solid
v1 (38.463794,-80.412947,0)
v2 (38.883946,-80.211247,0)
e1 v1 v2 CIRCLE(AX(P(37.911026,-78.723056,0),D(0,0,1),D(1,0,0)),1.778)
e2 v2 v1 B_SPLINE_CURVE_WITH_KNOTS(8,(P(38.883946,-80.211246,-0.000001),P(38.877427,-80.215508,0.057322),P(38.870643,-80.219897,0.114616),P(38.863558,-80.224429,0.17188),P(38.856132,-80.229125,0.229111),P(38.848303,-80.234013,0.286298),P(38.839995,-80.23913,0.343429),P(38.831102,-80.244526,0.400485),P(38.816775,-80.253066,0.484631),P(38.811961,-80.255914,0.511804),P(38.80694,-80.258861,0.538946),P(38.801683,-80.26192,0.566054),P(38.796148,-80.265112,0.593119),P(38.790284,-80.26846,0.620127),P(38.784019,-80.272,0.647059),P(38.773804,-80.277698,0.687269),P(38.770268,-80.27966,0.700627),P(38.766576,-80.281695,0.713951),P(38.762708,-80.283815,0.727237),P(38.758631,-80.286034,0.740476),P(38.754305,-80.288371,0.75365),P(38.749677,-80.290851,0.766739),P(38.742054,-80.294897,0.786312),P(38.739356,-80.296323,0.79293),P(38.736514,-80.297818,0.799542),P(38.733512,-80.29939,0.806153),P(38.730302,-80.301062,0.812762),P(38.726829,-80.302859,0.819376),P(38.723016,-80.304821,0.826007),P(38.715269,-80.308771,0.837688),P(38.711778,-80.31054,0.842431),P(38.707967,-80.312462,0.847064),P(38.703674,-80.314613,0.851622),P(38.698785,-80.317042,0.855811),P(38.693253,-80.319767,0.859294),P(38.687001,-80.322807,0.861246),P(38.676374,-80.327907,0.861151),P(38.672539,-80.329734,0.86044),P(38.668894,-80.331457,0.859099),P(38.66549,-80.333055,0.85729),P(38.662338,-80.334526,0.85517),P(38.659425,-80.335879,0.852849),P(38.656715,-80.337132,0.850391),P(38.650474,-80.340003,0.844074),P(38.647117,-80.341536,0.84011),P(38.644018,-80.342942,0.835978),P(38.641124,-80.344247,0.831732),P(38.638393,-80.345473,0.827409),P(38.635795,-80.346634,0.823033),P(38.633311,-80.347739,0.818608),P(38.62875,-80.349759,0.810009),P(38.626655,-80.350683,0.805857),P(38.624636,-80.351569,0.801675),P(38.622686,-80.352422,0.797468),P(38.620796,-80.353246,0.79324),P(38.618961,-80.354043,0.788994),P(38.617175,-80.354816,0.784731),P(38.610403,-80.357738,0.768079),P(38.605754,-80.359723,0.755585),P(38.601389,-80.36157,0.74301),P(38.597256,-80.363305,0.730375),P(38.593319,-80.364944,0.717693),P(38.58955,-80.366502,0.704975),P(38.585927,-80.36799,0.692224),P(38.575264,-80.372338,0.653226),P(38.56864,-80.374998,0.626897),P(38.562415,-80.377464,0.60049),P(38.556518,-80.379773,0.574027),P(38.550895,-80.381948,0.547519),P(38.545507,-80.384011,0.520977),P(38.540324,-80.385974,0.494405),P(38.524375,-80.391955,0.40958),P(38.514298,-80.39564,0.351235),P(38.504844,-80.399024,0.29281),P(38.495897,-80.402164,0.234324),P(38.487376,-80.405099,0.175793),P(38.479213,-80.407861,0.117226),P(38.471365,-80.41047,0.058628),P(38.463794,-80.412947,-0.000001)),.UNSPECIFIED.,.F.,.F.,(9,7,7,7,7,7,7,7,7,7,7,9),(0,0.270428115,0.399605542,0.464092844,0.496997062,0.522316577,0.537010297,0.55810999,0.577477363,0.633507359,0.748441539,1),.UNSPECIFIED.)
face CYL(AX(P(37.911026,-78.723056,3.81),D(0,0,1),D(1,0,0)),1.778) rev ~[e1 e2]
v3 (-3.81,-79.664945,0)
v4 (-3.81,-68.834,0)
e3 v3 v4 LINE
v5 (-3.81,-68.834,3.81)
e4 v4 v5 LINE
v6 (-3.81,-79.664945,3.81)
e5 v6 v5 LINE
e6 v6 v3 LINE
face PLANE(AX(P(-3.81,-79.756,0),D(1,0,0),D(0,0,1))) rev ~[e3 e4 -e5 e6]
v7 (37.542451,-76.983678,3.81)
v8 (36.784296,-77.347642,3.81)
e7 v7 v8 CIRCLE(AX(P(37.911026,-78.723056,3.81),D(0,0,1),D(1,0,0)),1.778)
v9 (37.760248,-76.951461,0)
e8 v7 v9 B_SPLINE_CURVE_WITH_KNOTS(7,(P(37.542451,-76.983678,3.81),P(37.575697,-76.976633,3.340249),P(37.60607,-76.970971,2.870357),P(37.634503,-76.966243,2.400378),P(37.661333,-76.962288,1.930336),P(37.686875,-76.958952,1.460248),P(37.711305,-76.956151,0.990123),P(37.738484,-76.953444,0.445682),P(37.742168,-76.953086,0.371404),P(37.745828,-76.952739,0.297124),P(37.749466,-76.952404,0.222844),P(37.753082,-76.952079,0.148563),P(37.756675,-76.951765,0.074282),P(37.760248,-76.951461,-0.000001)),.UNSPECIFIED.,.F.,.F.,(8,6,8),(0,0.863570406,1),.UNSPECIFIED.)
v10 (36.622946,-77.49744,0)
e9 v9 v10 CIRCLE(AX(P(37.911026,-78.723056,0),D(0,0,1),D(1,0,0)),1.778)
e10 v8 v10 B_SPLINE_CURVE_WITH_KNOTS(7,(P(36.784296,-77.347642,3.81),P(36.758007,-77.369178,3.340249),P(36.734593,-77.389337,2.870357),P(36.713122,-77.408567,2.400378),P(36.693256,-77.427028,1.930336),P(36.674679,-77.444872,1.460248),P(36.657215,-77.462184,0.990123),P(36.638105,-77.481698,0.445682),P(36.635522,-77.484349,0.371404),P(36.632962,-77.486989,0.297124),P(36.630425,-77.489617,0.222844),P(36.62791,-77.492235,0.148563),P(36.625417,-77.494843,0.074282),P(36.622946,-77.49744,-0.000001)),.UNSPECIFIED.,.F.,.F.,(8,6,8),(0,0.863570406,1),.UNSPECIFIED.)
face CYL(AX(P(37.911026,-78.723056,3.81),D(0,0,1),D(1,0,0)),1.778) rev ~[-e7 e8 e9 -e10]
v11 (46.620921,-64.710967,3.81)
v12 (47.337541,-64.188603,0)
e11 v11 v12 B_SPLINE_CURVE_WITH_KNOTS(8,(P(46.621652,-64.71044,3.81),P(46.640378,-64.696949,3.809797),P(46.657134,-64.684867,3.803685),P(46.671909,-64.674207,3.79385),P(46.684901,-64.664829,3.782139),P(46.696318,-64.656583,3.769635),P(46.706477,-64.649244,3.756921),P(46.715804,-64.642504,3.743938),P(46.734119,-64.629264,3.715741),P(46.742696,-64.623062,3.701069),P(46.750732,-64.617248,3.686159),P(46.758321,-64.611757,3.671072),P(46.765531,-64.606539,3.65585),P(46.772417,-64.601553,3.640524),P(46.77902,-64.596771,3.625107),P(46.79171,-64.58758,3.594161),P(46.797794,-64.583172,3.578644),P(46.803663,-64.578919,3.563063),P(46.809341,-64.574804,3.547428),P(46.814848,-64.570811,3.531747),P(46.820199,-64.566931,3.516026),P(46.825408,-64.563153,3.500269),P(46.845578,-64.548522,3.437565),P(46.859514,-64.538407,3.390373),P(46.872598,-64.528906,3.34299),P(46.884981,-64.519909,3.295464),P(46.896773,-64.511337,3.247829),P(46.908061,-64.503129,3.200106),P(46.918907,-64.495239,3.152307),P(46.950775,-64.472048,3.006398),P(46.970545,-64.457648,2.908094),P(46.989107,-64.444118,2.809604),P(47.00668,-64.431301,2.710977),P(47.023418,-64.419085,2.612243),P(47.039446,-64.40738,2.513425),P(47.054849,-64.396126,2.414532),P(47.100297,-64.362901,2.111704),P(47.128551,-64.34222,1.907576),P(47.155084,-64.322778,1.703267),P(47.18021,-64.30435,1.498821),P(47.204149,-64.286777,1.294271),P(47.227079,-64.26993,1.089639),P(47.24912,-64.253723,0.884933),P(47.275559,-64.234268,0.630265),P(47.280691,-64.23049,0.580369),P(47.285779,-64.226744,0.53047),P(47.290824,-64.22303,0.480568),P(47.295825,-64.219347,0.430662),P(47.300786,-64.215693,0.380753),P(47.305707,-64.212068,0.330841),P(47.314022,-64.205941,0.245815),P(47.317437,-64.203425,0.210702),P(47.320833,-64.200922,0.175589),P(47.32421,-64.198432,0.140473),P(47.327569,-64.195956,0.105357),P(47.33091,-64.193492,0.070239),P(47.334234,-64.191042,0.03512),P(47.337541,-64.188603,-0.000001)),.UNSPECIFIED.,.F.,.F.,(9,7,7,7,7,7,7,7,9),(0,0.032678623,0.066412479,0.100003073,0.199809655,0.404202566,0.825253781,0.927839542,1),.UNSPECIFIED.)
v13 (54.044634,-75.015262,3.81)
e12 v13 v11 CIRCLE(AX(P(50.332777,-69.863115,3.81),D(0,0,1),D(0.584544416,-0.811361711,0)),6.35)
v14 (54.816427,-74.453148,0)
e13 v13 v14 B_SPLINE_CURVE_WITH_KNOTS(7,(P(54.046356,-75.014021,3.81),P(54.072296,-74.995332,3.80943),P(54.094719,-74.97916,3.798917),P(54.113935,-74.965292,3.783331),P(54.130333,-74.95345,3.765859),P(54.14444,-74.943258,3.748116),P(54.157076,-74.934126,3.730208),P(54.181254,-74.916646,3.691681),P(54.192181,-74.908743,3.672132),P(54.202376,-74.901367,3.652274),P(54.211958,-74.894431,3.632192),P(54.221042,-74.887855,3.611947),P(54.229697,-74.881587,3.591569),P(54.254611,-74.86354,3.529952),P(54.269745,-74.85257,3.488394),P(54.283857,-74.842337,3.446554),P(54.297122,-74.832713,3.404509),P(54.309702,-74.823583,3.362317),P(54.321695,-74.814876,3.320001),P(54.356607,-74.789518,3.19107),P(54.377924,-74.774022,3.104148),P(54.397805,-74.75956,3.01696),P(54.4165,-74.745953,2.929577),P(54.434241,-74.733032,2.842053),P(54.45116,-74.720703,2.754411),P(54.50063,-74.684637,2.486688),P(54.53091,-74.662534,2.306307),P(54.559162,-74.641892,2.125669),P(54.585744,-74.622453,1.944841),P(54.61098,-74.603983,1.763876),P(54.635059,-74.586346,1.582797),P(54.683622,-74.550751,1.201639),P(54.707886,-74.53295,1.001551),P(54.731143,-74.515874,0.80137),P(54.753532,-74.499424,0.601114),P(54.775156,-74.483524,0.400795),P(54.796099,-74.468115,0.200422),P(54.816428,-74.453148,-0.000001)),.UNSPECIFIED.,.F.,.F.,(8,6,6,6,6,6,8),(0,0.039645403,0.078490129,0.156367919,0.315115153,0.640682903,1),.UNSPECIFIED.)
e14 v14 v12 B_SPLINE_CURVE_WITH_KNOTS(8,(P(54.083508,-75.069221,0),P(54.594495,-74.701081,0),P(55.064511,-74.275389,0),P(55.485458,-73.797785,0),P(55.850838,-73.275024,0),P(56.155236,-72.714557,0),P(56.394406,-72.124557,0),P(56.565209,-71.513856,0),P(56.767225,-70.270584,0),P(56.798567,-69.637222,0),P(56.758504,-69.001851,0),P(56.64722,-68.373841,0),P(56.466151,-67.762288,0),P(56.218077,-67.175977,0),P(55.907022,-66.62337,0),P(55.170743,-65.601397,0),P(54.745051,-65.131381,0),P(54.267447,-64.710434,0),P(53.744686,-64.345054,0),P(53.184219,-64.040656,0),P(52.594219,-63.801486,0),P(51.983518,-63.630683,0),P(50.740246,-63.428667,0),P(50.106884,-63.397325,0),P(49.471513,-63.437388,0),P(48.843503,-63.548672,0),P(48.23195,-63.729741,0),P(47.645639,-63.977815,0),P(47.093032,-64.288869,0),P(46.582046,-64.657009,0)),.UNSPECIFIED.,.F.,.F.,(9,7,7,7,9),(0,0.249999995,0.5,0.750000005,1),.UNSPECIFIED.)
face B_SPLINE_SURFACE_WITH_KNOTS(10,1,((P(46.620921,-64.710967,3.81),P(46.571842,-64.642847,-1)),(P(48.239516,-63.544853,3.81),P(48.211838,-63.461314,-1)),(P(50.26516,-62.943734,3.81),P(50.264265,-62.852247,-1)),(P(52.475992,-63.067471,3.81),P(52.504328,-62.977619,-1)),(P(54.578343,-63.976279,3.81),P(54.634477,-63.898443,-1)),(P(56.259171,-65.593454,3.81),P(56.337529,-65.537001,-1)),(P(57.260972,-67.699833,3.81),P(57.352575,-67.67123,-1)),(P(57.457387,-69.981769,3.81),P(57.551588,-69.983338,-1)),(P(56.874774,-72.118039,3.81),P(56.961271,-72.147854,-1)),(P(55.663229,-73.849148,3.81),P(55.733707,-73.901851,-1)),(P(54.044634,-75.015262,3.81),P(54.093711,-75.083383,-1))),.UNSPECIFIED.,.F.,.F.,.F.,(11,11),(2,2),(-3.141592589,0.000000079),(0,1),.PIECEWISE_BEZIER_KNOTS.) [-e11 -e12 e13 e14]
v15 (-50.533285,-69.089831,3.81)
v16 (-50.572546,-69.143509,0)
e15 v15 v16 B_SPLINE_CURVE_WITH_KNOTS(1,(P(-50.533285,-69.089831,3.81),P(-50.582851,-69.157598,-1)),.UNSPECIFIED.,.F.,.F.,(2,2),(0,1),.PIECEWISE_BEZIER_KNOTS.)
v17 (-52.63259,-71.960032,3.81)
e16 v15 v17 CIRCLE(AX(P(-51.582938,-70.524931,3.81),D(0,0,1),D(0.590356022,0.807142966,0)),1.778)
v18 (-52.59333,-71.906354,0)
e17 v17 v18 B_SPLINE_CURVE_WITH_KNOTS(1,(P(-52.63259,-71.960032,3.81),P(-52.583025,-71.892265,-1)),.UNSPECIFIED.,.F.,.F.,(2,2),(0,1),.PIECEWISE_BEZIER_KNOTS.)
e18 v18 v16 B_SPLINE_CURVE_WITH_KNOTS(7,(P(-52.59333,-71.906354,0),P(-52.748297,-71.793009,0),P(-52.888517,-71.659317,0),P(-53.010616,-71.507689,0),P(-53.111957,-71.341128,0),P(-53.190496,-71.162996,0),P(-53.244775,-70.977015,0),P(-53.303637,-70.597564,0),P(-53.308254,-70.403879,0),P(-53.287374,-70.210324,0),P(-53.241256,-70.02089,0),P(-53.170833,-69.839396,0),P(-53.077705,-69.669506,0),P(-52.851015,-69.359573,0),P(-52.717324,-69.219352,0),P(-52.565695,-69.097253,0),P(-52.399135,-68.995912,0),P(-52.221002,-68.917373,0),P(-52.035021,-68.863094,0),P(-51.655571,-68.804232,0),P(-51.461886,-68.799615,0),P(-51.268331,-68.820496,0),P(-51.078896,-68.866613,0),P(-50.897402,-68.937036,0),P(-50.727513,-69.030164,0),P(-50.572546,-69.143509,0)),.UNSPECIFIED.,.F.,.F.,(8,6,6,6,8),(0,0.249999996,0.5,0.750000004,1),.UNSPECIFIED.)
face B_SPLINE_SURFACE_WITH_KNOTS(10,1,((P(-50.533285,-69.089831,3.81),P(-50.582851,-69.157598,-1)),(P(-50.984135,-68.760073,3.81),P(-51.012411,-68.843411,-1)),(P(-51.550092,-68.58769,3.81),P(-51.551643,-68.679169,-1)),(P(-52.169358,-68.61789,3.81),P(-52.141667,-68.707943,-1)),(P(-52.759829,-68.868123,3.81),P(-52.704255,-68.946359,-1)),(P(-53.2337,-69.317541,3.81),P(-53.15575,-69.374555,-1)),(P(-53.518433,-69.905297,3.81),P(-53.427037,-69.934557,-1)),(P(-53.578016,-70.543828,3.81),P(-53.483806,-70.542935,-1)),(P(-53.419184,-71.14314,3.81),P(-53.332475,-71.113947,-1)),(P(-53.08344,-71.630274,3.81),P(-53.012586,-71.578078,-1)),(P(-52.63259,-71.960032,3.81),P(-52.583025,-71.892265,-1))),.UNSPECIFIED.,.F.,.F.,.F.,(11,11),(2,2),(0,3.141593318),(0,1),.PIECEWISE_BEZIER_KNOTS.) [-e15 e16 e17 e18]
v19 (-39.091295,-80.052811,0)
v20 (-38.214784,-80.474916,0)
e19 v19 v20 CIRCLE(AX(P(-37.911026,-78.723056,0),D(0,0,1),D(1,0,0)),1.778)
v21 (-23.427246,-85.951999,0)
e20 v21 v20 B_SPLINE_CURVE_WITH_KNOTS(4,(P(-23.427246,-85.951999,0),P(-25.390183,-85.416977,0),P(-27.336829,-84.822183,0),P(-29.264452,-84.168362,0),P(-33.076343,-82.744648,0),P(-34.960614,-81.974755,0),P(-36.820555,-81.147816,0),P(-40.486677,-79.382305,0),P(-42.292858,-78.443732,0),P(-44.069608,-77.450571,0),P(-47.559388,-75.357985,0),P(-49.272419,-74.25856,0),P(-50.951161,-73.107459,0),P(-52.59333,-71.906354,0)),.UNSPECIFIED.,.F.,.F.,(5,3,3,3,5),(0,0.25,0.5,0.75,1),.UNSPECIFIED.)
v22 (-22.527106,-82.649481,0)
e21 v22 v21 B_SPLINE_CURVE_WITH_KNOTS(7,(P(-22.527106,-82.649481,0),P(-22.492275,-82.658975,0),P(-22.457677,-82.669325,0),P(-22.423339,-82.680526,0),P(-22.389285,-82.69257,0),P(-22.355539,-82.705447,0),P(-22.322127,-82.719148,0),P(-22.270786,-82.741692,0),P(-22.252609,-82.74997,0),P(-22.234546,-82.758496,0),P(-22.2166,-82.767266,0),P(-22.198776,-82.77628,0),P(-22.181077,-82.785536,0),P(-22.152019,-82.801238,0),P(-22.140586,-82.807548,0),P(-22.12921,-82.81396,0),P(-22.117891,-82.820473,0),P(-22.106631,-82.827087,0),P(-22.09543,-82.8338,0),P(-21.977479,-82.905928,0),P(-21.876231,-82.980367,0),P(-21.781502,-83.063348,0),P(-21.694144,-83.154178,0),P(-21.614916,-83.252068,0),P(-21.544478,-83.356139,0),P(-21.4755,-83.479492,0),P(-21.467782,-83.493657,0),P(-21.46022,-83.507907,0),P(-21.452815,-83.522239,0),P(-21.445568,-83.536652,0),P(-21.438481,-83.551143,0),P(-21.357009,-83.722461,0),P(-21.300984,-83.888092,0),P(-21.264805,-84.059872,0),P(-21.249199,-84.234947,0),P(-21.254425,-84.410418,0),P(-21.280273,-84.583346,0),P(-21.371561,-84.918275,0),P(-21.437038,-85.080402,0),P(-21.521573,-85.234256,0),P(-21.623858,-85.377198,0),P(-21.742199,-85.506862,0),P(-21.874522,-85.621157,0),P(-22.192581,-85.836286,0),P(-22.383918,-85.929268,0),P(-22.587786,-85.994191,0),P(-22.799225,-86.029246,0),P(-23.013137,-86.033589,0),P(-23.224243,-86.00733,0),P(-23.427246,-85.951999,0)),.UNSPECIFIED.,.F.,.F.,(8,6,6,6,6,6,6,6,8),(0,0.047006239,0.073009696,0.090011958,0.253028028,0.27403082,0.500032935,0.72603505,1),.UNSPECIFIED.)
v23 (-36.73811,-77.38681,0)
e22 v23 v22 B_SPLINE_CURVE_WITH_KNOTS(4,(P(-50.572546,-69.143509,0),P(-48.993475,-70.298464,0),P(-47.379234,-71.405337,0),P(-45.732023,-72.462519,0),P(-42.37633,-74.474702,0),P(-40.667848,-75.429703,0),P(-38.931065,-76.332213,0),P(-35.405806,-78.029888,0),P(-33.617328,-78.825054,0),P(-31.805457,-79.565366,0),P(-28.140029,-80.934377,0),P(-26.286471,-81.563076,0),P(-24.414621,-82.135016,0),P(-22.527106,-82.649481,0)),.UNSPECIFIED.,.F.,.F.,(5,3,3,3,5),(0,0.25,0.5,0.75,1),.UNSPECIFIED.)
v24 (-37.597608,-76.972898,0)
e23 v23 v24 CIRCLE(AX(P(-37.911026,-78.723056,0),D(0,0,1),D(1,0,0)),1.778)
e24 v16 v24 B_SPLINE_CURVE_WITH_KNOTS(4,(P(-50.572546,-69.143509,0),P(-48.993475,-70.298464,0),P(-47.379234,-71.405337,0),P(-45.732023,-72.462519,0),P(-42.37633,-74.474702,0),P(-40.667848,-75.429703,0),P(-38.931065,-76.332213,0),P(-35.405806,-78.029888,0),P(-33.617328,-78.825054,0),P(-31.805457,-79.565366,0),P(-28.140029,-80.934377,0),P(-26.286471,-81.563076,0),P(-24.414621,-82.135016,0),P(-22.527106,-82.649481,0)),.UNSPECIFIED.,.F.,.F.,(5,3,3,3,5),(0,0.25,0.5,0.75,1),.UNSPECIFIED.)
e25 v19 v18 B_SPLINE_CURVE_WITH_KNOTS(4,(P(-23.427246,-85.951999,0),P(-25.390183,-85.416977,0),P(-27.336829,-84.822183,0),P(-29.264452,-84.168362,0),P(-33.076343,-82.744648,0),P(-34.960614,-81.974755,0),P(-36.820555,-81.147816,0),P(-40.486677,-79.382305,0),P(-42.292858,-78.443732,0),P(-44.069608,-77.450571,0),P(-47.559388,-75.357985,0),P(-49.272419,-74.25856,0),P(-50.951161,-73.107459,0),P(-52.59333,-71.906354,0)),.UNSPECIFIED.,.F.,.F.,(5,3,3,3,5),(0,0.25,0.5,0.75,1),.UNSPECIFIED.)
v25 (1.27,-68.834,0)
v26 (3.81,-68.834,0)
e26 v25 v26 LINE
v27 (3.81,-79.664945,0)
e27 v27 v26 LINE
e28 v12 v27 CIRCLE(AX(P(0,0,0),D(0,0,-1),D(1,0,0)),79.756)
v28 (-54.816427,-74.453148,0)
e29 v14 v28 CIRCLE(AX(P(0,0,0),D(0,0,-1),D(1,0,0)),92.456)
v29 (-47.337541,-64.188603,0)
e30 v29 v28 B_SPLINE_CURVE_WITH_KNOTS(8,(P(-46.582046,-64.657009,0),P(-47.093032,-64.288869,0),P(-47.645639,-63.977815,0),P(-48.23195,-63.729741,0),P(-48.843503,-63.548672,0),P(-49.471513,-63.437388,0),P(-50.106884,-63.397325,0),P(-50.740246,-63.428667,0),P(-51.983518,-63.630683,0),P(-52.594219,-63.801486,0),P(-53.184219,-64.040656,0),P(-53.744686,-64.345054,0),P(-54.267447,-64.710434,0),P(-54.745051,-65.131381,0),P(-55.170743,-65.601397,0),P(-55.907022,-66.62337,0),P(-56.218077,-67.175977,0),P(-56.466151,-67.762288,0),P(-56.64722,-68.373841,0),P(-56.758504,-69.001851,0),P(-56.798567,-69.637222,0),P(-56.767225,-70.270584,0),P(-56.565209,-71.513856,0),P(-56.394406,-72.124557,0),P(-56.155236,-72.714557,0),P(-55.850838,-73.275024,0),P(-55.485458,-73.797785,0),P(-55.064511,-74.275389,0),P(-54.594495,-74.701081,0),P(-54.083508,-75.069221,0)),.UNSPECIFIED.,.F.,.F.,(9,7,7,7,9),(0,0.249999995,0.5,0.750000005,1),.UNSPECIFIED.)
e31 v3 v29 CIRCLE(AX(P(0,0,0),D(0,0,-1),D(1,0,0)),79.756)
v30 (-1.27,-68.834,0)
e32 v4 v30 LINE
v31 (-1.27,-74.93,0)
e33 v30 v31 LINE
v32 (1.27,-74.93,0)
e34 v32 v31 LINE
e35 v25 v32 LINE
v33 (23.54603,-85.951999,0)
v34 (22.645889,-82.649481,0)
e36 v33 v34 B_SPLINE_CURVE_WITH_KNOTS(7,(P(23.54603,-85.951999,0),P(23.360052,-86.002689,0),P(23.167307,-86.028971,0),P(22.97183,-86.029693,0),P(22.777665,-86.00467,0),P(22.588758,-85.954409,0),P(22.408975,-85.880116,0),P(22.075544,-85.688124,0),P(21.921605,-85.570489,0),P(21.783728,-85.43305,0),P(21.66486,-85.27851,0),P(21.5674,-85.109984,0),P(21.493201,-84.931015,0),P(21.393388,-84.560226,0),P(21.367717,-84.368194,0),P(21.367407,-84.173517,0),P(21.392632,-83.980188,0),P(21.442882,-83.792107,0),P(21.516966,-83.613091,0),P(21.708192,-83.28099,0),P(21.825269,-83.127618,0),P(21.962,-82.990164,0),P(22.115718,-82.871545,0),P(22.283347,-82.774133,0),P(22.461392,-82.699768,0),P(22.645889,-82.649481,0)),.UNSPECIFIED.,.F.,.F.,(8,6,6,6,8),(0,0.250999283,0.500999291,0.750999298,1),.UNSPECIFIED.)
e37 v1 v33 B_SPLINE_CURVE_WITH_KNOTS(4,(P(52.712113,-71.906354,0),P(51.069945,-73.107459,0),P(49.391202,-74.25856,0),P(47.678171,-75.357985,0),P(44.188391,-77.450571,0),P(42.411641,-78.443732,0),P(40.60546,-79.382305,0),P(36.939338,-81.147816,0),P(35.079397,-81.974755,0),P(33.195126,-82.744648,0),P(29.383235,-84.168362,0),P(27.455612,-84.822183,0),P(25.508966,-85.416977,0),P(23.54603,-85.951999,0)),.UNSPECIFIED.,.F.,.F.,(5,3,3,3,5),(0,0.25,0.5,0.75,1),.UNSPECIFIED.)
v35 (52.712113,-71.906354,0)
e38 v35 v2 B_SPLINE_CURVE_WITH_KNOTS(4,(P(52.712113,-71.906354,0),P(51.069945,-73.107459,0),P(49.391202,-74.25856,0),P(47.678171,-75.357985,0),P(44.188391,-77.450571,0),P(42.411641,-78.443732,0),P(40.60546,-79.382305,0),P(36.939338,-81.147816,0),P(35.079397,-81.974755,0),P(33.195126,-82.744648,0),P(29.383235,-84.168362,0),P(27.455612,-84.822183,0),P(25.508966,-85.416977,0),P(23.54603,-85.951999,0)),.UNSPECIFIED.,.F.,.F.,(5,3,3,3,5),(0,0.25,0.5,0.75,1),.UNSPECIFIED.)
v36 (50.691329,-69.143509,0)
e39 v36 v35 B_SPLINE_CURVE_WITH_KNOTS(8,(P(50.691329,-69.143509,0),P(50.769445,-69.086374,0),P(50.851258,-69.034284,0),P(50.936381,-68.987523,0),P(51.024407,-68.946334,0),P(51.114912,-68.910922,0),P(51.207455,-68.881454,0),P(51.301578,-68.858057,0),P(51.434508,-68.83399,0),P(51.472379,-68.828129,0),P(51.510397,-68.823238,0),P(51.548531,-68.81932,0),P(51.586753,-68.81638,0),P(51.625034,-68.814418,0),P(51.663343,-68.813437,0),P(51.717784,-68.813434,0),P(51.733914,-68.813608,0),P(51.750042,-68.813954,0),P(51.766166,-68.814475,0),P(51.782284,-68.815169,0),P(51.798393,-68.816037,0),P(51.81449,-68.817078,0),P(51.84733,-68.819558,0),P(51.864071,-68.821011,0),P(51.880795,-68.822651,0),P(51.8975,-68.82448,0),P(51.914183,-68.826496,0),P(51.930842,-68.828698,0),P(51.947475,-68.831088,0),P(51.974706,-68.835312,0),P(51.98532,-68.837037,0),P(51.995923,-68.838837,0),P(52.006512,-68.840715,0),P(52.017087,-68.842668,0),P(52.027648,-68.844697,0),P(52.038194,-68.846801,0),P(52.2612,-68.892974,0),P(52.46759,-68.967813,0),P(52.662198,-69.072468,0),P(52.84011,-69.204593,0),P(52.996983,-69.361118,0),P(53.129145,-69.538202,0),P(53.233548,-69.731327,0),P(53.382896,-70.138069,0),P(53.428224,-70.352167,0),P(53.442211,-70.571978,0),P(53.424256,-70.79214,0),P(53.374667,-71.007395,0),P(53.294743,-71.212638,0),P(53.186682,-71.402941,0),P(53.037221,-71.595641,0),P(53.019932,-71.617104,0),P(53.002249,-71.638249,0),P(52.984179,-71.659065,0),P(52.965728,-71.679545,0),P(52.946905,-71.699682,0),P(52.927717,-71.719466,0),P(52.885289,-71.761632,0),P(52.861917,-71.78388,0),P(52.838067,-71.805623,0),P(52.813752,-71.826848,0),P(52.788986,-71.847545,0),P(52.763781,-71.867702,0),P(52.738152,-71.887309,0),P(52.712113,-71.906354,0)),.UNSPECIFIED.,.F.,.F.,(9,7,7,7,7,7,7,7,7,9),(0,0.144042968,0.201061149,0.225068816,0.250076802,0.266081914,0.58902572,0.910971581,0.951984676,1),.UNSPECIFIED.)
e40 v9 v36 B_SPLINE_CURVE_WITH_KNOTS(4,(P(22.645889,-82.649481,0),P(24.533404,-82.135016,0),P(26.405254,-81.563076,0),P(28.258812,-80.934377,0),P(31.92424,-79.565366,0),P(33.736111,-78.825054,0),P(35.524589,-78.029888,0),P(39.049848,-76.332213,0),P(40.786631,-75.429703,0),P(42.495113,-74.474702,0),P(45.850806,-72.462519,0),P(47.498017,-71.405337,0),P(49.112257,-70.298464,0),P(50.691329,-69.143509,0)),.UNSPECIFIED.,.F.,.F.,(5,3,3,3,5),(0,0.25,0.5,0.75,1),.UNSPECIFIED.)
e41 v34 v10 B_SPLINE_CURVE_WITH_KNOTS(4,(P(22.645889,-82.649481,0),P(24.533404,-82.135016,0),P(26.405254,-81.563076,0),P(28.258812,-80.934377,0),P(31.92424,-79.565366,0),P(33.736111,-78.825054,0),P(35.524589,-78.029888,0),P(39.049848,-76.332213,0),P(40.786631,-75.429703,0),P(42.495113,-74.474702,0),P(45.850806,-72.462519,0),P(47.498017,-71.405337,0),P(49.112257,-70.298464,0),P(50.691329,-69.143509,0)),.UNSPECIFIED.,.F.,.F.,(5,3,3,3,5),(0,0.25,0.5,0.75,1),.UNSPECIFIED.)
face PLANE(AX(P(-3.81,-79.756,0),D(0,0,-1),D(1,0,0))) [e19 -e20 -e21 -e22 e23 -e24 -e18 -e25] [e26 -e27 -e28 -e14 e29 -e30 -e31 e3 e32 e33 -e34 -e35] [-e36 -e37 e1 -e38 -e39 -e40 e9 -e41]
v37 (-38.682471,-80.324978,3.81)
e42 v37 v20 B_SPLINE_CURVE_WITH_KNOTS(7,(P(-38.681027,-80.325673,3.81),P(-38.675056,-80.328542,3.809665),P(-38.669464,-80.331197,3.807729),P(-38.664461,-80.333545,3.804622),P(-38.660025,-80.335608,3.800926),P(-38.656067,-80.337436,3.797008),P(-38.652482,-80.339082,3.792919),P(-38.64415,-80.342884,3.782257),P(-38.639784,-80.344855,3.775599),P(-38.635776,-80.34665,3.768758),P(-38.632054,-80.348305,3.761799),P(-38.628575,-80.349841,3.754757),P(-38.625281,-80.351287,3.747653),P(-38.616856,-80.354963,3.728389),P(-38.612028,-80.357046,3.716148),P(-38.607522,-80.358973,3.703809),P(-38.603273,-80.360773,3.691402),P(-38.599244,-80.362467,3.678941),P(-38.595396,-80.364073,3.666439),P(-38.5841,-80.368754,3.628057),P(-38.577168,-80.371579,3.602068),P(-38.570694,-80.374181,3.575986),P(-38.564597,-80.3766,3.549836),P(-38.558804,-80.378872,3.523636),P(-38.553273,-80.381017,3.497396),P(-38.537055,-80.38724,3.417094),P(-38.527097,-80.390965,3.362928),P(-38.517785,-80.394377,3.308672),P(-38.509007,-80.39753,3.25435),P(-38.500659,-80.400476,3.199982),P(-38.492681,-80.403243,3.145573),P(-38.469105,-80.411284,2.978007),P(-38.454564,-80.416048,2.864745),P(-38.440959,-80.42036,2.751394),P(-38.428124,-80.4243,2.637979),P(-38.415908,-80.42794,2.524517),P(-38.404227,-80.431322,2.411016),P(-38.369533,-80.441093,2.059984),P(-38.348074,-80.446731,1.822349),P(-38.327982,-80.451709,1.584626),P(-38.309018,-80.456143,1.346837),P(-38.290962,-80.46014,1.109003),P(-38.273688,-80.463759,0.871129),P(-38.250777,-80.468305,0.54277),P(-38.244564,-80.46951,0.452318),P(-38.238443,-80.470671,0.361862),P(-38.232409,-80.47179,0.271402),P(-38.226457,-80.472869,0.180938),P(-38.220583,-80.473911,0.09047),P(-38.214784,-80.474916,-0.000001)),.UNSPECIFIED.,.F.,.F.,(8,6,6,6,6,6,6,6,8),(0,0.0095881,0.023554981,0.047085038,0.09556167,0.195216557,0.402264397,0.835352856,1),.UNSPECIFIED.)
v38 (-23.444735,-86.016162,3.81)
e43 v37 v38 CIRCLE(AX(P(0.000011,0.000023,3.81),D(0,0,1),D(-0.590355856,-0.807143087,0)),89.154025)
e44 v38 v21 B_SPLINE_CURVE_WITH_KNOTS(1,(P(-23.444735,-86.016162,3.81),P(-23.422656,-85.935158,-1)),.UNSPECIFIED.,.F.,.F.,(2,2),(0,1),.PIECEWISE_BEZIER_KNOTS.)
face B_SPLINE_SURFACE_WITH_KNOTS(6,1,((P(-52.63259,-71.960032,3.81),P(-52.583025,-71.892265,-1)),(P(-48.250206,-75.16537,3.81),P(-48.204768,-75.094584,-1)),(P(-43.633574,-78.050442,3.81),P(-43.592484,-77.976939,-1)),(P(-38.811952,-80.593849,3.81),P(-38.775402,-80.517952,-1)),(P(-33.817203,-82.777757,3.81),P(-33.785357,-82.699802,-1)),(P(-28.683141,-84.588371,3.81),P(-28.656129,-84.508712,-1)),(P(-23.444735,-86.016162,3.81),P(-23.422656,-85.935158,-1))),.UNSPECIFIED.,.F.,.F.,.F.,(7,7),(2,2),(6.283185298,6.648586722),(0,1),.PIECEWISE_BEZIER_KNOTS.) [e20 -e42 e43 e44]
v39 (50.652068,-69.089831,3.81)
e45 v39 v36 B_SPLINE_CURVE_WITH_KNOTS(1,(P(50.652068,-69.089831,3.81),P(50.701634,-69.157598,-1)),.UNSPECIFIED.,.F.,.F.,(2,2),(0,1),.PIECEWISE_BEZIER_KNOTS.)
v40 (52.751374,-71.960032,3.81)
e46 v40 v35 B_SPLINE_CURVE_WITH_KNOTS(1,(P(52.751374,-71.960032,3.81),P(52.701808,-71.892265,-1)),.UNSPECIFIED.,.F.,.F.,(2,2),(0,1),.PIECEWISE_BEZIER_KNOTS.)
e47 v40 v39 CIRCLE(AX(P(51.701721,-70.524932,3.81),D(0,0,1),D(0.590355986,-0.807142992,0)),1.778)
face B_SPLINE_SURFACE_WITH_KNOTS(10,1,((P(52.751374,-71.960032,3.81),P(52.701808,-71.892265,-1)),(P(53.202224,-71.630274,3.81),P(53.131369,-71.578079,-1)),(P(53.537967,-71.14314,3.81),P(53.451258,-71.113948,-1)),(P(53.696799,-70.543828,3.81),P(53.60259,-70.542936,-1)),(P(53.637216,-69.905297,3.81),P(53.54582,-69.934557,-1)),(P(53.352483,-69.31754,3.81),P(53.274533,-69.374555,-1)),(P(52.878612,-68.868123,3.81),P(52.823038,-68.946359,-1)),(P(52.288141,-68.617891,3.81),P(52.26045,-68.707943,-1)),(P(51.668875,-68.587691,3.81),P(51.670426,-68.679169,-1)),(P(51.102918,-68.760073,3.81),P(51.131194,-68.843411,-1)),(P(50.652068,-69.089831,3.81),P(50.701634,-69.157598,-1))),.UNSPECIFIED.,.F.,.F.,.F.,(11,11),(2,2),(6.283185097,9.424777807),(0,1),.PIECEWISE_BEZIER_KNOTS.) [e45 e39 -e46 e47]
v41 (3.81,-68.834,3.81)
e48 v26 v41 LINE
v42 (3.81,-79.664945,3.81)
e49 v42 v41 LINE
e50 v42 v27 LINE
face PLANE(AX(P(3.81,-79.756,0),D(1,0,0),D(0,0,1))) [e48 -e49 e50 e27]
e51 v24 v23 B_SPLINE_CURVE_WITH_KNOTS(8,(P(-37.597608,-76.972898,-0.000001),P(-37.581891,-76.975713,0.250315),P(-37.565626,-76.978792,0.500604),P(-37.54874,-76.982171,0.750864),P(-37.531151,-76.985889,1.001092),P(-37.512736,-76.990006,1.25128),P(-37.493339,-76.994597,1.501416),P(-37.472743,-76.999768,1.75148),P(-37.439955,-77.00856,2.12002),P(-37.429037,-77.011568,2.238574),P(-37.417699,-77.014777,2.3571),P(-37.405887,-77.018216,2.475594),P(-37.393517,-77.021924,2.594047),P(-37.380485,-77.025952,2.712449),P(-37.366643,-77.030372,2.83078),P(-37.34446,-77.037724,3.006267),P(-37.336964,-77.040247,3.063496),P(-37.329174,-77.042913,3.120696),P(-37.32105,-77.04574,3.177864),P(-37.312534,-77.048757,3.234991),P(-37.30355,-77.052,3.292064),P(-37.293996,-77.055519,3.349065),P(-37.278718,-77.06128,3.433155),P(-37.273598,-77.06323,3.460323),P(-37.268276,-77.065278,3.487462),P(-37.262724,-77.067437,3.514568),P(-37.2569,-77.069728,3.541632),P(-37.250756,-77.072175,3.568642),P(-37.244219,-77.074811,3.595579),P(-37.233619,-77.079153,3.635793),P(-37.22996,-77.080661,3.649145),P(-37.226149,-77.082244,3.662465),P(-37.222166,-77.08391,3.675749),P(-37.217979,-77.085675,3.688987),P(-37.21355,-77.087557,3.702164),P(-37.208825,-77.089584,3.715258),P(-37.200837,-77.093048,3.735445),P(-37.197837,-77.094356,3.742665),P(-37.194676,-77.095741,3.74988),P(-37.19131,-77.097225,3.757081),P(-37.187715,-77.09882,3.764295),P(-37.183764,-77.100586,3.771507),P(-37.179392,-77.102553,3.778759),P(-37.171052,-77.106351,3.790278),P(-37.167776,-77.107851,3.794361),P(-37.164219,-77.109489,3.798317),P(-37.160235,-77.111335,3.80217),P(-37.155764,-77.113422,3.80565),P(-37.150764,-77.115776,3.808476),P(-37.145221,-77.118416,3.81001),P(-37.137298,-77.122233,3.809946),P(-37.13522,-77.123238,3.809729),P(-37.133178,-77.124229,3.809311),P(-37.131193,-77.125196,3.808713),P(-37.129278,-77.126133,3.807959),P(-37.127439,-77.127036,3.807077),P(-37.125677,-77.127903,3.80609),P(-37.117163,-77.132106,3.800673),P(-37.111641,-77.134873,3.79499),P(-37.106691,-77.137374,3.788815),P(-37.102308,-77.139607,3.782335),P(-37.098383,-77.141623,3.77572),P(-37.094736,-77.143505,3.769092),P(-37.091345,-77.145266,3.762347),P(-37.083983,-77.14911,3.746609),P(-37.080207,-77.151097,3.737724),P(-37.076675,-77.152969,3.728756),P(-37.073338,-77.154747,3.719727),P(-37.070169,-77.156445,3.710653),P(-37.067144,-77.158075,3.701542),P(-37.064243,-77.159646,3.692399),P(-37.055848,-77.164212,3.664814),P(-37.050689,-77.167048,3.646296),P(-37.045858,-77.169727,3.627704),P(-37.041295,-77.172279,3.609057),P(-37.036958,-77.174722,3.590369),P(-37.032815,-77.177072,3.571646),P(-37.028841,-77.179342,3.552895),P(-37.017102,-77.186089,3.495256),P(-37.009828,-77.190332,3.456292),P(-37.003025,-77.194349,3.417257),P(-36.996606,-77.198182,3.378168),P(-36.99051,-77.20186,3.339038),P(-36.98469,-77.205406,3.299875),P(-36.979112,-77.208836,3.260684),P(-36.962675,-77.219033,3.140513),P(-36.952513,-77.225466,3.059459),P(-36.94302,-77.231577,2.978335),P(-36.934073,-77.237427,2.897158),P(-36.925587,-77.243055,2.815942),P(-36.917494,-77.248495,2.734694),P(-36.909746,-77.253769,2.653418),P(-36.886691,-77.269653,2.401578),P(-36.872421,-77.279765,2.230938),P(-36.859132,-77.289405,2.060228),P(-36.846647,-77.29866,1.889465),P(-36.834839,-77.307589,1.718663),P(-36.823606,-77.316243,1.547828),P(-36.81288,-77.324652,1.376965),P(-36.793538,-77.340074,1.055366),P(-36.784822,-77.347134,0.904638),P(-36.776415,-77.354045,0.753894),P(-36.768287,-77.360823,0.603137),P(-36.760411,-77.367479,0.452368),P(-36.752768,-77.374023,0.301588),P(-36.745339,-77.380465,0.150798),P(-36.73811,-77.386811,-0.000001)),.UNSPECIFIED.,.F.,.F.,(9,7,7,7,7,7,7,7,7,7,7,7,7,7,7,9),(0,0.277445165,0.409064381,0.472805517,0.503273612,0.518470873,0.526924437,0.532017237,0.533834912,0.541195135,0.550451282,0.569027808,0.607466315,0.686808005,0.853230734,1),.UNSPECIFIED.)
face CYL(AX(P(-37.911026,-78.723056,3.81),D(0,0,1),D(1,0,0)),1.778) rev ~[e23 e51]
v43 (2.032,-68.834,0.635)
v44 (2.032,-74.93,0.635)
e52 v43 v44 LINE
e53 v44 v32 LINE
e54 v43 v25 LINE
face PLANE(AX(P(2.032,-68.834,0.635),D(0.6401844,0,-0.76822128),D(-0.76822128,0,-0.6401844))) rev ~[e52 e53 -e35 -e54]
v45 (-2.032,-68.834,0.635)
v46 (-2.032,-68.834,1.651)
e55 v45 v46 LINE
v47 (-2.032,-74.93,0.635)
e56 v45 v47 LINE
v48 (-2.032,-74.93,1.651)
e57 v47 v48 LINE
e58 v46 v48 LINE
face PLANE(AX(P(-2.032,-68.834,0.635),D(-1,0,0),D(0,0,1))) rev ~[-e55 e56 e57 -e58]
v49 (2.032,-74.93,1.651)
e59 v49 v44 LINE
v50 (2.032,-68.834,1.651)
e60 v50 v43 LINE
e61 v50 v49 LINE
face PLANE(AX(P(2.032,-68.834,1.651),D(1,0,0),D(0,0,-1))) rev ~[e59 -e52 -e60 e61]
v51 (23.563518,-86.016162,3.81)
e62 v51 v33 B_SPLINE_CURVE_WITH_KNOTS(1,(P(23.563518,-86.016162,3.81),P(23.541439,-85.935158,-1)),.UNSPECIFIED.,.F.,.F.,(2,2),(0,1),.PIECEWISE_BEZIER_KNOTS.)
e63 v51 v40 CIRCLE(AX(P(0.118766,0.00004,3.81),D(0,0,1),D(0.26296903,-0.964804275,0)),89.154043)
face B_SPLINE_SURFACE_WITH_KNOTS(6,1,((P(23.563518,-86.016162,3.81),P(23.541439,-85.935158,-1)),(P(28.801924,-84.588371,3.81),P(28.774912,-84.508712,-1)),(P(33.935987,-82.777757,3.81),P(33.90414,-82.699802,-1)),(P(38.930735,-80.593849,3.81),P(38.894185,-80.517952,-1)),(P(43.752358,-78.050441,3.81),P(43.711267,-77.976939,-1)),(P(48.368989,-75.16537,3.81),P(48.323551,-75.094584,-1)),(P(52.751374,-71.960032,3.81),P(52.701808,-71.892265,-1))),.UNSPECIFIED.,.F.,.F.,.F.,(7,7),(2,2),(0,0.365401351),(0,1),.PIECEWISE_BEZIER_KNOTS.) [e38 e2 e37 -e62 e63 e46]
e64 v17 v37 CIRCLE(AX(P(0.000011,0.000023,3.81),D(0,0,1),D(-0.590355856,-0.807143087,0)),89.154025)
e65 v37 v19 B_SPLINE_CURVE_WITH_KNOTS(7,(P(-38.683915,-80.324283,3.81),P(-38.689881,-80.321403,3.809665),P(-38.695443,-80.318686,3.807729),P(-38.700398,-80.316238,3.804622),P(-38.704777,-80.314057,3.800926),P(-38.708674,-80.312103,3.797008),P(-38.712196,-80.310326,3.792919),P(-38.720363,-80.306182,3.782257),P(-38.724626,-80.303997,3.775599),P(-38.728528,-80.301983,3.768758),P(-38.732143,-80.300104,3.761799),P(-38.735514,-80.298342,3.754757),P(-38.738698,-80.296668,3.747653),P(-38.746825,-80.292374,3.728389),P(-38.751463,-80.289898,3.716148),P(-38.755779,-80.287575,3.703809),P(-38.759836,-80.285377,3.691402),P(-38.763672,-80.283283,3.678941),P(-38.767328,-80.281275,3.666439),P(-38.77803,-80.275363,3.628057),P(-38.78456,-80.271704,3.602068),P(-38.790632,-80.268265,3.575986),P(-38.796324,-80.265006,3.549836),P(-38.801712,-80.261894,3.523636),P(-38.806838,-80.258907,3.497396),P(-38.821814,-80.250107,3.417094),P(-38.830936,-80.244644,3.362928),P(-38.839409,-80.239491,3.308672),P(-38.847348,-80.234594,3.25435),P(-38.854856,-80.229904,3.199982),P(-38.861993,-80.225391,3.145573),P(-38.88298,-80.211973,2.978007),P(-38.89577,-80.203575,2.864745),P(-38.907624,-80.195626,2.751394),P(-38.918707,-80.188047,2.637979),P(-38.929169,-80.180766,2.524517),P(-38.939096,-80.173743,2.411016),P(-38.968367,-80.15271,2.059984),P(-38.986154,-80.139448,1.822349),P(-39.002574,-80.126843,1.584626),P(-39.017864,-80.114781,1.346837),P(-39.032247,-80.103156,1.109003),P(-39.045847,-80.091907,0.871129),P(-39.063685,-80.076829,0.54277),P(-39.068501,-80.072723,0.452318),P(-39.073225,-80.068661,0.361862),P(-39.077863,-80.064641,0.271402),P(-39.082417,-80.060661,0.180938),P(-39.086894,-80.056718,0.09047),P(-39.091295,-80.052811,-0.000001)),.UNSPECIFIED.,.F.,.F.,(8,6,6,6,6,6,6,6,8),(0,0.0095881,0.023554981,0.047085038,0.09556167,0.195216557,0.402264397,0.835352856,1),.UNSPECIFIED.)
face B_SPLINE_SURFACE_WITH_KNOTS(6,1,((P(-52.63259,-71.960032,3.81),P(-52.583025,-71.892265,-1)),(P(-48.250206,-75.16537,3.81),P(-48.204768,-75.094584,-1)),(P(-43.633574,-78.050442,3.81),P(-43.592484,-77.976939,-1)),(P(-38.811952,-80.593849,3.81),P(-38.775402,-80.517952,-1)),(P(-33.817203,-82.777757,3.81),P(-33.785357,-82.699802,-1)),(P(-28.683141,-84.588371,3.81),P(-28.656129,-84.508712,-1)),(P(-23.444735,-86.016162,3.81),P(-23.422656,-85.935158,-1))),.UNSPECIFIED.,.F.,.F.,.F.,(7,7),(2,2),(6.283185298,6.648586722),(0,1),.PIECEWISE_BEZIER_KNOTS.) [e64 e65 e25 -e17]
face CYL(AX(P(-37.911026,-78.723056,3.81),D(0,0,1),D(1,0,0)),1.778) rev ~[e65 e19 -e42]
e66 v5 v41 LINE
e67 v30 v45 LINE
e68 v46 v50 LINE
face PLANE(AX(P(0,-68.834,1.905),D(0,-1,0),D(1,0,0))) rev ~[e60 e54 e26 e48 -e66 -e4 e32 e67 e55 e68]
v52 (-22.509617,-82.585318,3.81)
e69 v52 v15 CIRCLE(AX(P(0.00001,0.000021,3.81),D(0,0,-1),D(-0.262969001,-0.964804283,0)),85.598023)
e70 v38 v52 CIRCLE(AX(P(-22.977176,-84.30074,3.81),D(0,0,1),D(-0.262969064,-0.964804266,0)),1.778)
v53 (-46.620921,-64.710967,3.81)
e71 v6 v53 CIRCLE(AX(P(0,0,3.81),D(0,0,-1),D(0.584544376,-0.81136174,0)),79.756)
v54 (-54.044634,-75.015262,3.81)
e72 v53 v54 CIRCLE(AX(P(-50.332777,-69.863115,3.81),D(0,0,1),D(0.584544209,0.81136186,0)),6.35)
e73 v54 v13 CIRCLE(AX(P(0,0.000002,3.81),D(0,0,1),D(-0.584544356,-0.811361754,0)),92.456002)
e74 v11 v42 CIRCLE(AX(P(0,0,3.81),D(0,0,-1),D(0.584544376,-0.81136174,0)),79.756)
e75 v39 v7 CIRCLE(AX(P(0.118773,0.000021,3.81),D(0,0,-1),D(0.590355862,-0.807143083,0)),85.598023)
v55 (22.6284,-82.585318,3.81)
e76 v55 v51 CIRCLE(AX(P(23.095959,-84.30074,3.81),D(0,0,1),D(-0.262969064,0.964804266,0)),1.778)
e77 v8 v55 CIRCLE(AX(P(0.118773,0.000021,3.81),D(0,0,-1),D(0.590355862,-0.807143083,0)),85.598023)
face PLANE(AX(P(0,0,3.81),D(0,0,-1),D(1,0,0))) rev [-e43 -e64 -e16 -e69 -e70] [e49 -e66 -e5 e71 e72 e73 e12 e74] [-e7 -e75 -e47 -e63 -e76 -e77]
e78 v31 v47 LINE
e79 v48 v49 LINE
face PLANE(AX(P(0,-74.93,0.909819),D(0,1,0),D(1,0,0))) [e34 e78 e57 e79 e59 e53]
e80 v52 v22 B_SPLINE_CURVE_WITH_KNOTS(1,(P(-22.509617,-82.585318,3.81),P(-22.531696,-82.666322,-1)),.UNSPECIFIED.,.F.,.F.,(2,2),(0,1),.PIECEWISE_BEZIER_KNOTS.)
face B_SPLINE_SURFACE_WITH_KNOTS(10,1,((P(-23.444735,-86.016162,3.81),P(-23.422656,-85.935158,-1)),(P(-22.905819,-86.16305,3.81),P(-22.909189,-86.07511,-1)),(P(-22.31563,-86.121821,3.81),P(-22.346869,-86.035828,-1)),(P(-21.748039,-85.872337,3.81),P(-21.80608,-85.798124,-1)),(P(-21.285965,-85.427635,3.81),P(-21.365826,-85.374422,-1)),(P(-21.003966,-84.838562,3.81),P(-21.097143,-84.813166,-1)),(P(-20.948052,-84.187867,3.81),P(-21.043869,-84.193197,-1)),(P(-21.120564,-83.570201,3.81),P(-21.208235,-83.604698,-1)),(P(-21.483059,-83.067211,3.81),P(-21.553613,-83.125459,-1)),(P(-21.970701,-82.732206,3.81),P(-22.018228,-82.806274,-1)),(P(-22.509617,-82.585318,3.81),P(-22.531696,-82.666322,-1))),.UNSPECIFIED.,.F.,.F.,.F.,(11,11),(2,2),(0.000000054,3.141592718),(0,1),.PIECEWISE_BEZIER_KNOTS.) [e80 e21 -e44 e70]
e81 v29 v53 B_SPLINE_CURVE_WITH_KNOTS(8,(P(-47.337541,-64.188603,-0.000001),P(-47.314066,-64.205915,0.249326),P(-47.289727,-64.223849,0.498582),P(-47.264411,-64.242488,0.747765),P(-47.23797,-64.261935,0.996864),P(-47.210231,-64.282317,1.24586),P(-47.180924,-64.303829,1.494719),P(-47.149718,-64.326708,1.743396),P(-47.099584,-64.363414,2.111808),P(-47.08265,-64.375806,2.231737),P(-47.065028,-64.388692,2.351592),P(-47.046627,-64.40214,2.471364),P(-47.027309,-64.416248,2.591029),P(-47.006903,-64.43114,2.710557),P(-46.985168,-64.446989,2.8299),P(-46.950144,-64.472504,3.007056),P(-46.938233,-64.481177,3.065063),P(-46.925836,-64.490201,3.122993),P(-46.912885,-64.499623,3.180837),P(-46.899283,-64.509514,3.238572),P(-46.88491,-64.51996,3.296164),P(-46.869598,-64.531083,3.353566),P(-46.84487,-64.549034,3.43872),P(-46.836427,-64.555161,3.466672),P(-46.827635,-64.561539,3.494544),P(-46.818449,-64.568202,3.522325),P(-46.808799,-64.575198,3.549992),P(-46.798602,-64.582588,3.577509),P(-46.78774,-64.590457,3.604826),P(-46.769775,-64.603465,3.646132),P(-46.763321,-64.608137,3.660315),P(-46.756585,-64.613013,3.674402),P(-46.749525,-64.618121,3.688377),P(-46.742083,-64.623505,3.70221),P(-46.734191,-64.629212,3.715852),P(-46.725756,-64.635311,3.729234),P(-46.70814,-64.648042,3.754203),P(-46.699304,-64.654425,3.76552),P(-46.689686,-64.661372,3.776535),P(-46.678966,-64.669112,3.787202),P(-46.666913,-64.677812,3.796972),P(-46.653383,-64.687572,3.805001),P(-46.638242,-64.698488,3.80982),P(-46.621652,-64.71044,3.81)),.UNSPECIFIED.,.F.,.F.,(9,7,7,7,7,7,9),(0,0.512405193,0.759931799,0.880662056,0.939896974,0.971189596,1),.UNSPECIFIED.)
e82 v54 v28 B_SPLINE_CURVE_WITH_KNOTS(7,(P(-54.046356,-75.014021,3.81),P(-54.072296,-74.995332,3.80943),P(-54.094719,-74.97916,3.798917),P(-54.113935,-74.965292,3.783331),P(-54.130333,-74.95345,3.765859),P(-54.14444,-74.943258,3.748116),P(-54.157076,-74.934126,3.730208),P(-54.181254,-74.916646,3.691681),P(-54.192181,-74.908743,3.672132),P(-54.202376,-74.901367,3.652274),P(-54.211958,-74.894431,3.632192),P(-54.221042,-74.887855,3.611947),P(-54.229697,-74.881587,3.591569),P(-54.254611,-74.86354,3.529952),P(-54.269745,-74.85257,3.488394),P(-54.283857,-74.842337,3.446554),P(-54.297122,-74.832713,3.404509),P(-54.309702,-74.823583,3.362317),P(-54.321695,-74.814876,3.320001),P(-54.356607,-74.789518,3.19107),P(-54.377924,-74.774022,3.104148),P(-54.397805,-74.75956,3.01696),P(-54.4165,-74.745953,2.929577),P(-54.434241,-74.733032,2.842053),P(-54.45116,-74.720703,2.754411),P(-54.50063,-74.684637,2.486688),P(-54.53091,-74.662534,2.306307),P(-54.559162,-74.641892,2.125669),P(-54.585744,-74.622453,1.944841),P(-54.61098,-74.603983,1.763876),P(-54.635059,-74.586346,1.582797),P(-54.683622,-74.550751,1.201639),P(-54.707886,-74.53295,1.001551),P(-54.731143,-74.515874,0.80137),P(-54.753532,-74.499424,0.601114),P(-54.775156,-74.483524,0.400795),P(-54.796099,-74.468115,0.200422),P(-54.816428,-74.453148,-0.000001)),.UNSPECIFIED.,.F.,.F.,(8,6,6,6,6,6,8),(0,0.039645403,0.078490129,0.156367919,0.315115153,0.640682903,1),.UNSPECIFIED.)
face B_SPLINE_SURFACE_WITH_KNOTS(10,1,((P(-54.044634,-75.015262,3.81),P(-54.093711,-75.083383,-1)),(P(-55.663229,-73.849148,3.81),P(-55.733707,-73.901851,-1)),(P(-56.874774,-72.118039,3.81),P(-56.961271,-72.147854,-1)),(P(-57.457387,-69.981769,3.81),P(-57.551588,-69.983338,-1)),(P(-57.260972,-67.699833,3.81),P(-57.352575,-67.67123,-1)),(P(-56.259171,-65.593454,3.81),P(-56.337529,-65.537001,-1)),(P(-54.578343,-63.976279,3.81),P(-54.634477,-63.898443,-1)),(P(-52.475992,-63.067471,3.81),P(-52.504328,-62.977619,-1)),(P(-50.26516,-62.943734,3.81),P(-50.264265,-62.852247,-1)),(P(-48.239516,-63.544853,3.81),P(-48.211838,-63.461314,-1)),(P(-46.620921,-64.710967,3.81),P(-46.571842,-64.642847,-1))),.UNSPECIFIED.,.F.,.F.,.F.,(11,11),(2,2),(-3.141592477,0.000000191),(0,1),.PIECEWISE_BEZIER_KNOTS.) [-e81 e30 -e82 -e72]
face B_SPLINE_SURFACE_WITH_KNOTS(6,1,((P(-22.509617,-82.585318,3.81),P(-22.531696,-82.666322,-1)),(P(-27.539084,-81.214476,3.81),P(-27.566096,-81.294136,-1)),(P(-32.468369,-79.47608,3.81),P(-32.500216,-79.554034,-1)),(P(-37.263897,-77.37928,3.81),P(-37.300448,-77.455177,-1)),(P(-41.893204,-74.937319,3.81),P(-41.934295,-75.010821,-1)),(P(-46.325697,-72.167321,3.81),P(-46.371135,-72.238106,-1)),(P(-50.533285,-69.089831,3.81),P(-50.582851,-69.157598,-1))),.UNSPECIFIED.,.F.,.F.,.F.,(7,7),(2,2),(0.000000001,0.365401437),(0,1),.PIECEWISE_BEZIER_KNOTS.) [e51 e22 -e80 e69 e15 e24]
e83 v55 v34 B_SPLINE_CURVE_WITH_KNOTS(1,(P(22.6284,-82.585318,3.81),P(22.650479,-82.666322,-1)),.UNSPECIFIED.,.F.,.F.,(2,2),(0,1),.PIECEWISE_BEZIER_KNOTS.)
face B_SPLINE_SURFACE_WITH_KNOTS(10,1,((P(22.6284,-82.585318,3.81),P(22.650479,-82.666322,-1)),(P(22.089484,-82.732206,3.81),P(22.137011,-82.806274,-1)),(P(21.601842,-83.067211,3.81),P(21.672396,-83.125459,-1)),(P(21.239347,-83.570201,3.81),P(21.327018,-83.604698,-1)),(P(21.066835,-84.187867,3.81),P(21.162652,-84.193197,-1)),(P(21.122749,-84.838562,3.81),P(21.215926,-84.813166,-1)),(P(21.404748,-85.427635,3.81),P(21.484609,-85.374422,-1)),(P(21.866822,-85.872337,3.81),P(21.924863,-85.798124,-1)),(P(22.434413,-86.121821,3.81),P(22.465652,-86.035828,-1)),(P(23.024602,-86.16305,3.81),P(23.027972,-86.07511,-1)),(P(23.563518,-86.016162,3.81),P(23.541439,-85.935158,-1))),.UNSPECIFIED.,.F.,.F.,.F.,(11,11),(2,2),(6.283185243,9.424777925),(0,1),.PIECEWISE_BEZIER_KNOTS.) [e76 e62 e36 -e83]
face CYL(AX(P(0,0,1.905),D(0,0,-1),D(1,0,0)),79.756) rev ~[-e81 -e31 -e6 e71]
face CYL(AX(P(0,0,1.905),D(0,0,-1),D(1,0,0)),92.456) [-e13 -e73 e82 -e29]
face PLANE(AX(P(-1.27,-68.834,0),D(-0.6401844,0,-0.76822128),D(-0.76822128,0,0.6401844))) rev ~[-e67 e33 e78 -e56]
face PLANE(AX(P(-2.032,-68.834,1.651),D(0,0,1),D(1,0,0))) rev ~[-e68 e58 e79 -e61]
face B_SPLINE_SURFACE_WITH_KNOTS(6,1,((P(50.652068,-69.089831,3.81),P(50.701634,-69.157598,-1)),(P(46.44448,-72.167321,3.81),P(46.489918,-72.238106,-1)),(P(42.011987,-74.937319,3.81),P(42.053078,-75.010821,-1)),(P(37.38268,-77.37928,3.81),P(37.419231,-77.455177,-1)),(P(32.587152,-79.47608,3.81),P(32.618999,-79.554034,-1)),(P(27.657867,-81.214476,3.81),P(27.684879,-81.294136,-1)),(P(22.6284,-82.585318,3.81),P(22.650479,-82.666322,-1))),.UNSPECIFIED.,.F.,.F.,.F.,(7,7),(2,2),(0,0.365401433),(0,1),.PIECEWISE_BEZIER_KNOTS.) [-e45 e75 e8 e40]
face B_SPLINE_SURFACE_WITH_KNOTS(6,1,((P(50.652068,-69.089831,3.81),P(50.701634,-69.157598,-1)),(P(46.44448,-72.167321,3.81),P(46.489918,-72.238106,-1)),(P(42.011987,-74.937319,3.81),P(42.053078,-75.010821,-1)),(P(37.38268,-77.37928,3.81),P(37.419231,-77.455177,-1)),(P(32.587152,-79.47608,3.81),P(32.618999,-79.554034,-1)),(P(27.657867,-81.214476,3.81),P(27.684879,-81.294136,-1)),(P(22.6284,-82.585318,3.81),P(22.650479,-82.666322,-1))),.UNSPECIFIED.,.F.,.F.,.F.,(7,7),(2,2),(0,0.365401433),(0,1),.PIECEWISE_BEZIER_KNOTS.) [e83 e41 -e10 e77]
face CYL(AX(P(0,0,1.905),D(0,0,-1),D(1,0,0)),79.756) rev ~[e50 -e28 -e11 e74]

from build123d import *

# Parameters (mm, degrees)
SKETCH1_W           = 3.81
SKETCH1_H           = 12.7
SKETCH2_R           = 1.778
CUT_EXTRUDE1_DEPTH  = 4.81
SKETCH3_OUTSIDE_W   = 239.386
SKETCH3_OUTSIDE_H   = 239.386
CUT_EXTRUDE15_DEPTH = 4.81
CUT_EXTRUDE15_TAPER = 1
SKETCH8_W           = 7.62
SKETCH8_H           = 3.81
BOSS_EXTRUDE1_DEPTH = 10.922
CUT_EXTRUDE16_DEPTH = 6.096


with BuildPart() as part:
    # Sketch1 → Revolve1 (revolve)
    with BuildSketch(Plane(origin=(0, 0, 0), x_dir=(0, 0, -1), z_dir=(1, 0, 0)), mode=Mode.PRIVATE) as revolve1_sk:
        with Locations((-1.905, 86.106)):
            Rectangle(SKETCH1_W, SKETCH1_H)
    revolve(revolve1_sk.sketch.rotate(Axis((0, 0, 0), (0, 0, -1)), 90), axis=Axis((0, 0, 0), (0, 0, -1)))  # turned: the seam where the file's is

    # Sketch2 → Cut-Extrude1 (cut, through all)
    with BuildSketch(Plane.XY.offset(3.81)):
        with Locations((0, 87.376)):
            Circle(SKETCH2_R)
        with Locations((68.313308, 54.478045)):
            Circle(SKETCH2_R)
        with Locations((85.185301, -19.442989)):
            Circle(SKETCH2_R)
        with Locations((37.911026, -78.723056)):
            Circle(SKETCH2_R)
        with Locations((-37.911026, -78.723056)):
            Circle(SKETCH2_R)
        with Locations((-85.185301, -19.442989)):
            Circle(SKETCH2_R)
        with Locations((-68.313308, 54.478045)):
            Circle(SKETCH2_R)
    extrude(amount=-CUT_EXTRUDE1_DEPTH, mode=Mode.SUBTRACT)

    # Sketch3 outside → Cut-Extrude15 (cut, through all)
    with BuildSketch(Plane.XY.offset(3.81)):
        Rectangle(SKETCH3_OUTSIDE_W, SKETCH3_OUTSIDE_H)
        with BuildLine():
            ThreePointArc((-46.620921, -64.710967), (-55.484924, -66.151258), (-54.044634, -75.015262))
            ThreePointArc((-54.044634, -75.015262), (0, -92.456), (54.044634, -75.015262))
            ThreePointArc((54.044634, -75.015262), (55.484924, -66.151258), (46.620921, -64.710967))
            ThreePointArc((46.620921, -64.710967), (0, -79.756), (-46.620921, -64.710967))
        make_face(mode=Mode.SUBTRACT)
        with BuildLine():
            ThreePointArc((-52.63259, -71.960032), (-38.682471, -80.324978), (-23.444735, -86.016162))
            ThreePointArc((-23.444735, -86.016162), (-21.261754, -84.768299), (-22.509617, -82.585318))
            ThreePointArc((-22.509617, -82.585318), (-37.13958, -77.121133), (-50.533285, -69.089831))
            ThreePointArc((-50.533285, -69.089831), (-53.018038, -69.475278), (-52.63259, -71.960032))
        make_face()
        with BuildLine():
            ThreePointArc((23.563518, -86.016162), (38.801254, -80.324978), (52.751374, -71.960032))
            ThreePointArc((52.751374, -71.960032), (53.136821, -69.475278), (50.652068, -69.089831))
            ThreePointArc((50.652068, -69.089831), (37.258363, -77.121133), (22.6284, -82.585318))
            ThreePointArc((22.6284, -82.585318), (21.380537, -84.768299), (23.563518, -86.016162))
        make_face()
    extrude(amount=-CUT_EXTRUDE15_DEPTH, taper=CUT_EXTRUDE15_TAPER, mode=Mode.SUBTRACT)

    # Sketch8 → Boss-Extrude1 (add)
    with BuildSketch(Plane.XZ.offset(79.756)):
        with Locations((0, 1.905)):
            Rectangle(SKETCH8_W, SKETCH8_H)
    extrude(amount=-BOSS_EXTRUDE1_DEPTH)

    # Sketch9 → Cut-Extrude16 (cut)
    with BuildSketch(Plane(origin=(0, -68.834, 0), x_dir=(1, 0, 0), z_dir=(0, 1, 0))):
        Polygon((1.27, 0), (-1.27, 0), (-2.032, -0.635), (-2.032, -1.651), (2.032, -1.651), (2.032, -0.635), align=None)
    extrude(amount=-CUT_EXTRUDE16_DEPTH, mode=Mode.SUBTRACT)


solid = part.part
